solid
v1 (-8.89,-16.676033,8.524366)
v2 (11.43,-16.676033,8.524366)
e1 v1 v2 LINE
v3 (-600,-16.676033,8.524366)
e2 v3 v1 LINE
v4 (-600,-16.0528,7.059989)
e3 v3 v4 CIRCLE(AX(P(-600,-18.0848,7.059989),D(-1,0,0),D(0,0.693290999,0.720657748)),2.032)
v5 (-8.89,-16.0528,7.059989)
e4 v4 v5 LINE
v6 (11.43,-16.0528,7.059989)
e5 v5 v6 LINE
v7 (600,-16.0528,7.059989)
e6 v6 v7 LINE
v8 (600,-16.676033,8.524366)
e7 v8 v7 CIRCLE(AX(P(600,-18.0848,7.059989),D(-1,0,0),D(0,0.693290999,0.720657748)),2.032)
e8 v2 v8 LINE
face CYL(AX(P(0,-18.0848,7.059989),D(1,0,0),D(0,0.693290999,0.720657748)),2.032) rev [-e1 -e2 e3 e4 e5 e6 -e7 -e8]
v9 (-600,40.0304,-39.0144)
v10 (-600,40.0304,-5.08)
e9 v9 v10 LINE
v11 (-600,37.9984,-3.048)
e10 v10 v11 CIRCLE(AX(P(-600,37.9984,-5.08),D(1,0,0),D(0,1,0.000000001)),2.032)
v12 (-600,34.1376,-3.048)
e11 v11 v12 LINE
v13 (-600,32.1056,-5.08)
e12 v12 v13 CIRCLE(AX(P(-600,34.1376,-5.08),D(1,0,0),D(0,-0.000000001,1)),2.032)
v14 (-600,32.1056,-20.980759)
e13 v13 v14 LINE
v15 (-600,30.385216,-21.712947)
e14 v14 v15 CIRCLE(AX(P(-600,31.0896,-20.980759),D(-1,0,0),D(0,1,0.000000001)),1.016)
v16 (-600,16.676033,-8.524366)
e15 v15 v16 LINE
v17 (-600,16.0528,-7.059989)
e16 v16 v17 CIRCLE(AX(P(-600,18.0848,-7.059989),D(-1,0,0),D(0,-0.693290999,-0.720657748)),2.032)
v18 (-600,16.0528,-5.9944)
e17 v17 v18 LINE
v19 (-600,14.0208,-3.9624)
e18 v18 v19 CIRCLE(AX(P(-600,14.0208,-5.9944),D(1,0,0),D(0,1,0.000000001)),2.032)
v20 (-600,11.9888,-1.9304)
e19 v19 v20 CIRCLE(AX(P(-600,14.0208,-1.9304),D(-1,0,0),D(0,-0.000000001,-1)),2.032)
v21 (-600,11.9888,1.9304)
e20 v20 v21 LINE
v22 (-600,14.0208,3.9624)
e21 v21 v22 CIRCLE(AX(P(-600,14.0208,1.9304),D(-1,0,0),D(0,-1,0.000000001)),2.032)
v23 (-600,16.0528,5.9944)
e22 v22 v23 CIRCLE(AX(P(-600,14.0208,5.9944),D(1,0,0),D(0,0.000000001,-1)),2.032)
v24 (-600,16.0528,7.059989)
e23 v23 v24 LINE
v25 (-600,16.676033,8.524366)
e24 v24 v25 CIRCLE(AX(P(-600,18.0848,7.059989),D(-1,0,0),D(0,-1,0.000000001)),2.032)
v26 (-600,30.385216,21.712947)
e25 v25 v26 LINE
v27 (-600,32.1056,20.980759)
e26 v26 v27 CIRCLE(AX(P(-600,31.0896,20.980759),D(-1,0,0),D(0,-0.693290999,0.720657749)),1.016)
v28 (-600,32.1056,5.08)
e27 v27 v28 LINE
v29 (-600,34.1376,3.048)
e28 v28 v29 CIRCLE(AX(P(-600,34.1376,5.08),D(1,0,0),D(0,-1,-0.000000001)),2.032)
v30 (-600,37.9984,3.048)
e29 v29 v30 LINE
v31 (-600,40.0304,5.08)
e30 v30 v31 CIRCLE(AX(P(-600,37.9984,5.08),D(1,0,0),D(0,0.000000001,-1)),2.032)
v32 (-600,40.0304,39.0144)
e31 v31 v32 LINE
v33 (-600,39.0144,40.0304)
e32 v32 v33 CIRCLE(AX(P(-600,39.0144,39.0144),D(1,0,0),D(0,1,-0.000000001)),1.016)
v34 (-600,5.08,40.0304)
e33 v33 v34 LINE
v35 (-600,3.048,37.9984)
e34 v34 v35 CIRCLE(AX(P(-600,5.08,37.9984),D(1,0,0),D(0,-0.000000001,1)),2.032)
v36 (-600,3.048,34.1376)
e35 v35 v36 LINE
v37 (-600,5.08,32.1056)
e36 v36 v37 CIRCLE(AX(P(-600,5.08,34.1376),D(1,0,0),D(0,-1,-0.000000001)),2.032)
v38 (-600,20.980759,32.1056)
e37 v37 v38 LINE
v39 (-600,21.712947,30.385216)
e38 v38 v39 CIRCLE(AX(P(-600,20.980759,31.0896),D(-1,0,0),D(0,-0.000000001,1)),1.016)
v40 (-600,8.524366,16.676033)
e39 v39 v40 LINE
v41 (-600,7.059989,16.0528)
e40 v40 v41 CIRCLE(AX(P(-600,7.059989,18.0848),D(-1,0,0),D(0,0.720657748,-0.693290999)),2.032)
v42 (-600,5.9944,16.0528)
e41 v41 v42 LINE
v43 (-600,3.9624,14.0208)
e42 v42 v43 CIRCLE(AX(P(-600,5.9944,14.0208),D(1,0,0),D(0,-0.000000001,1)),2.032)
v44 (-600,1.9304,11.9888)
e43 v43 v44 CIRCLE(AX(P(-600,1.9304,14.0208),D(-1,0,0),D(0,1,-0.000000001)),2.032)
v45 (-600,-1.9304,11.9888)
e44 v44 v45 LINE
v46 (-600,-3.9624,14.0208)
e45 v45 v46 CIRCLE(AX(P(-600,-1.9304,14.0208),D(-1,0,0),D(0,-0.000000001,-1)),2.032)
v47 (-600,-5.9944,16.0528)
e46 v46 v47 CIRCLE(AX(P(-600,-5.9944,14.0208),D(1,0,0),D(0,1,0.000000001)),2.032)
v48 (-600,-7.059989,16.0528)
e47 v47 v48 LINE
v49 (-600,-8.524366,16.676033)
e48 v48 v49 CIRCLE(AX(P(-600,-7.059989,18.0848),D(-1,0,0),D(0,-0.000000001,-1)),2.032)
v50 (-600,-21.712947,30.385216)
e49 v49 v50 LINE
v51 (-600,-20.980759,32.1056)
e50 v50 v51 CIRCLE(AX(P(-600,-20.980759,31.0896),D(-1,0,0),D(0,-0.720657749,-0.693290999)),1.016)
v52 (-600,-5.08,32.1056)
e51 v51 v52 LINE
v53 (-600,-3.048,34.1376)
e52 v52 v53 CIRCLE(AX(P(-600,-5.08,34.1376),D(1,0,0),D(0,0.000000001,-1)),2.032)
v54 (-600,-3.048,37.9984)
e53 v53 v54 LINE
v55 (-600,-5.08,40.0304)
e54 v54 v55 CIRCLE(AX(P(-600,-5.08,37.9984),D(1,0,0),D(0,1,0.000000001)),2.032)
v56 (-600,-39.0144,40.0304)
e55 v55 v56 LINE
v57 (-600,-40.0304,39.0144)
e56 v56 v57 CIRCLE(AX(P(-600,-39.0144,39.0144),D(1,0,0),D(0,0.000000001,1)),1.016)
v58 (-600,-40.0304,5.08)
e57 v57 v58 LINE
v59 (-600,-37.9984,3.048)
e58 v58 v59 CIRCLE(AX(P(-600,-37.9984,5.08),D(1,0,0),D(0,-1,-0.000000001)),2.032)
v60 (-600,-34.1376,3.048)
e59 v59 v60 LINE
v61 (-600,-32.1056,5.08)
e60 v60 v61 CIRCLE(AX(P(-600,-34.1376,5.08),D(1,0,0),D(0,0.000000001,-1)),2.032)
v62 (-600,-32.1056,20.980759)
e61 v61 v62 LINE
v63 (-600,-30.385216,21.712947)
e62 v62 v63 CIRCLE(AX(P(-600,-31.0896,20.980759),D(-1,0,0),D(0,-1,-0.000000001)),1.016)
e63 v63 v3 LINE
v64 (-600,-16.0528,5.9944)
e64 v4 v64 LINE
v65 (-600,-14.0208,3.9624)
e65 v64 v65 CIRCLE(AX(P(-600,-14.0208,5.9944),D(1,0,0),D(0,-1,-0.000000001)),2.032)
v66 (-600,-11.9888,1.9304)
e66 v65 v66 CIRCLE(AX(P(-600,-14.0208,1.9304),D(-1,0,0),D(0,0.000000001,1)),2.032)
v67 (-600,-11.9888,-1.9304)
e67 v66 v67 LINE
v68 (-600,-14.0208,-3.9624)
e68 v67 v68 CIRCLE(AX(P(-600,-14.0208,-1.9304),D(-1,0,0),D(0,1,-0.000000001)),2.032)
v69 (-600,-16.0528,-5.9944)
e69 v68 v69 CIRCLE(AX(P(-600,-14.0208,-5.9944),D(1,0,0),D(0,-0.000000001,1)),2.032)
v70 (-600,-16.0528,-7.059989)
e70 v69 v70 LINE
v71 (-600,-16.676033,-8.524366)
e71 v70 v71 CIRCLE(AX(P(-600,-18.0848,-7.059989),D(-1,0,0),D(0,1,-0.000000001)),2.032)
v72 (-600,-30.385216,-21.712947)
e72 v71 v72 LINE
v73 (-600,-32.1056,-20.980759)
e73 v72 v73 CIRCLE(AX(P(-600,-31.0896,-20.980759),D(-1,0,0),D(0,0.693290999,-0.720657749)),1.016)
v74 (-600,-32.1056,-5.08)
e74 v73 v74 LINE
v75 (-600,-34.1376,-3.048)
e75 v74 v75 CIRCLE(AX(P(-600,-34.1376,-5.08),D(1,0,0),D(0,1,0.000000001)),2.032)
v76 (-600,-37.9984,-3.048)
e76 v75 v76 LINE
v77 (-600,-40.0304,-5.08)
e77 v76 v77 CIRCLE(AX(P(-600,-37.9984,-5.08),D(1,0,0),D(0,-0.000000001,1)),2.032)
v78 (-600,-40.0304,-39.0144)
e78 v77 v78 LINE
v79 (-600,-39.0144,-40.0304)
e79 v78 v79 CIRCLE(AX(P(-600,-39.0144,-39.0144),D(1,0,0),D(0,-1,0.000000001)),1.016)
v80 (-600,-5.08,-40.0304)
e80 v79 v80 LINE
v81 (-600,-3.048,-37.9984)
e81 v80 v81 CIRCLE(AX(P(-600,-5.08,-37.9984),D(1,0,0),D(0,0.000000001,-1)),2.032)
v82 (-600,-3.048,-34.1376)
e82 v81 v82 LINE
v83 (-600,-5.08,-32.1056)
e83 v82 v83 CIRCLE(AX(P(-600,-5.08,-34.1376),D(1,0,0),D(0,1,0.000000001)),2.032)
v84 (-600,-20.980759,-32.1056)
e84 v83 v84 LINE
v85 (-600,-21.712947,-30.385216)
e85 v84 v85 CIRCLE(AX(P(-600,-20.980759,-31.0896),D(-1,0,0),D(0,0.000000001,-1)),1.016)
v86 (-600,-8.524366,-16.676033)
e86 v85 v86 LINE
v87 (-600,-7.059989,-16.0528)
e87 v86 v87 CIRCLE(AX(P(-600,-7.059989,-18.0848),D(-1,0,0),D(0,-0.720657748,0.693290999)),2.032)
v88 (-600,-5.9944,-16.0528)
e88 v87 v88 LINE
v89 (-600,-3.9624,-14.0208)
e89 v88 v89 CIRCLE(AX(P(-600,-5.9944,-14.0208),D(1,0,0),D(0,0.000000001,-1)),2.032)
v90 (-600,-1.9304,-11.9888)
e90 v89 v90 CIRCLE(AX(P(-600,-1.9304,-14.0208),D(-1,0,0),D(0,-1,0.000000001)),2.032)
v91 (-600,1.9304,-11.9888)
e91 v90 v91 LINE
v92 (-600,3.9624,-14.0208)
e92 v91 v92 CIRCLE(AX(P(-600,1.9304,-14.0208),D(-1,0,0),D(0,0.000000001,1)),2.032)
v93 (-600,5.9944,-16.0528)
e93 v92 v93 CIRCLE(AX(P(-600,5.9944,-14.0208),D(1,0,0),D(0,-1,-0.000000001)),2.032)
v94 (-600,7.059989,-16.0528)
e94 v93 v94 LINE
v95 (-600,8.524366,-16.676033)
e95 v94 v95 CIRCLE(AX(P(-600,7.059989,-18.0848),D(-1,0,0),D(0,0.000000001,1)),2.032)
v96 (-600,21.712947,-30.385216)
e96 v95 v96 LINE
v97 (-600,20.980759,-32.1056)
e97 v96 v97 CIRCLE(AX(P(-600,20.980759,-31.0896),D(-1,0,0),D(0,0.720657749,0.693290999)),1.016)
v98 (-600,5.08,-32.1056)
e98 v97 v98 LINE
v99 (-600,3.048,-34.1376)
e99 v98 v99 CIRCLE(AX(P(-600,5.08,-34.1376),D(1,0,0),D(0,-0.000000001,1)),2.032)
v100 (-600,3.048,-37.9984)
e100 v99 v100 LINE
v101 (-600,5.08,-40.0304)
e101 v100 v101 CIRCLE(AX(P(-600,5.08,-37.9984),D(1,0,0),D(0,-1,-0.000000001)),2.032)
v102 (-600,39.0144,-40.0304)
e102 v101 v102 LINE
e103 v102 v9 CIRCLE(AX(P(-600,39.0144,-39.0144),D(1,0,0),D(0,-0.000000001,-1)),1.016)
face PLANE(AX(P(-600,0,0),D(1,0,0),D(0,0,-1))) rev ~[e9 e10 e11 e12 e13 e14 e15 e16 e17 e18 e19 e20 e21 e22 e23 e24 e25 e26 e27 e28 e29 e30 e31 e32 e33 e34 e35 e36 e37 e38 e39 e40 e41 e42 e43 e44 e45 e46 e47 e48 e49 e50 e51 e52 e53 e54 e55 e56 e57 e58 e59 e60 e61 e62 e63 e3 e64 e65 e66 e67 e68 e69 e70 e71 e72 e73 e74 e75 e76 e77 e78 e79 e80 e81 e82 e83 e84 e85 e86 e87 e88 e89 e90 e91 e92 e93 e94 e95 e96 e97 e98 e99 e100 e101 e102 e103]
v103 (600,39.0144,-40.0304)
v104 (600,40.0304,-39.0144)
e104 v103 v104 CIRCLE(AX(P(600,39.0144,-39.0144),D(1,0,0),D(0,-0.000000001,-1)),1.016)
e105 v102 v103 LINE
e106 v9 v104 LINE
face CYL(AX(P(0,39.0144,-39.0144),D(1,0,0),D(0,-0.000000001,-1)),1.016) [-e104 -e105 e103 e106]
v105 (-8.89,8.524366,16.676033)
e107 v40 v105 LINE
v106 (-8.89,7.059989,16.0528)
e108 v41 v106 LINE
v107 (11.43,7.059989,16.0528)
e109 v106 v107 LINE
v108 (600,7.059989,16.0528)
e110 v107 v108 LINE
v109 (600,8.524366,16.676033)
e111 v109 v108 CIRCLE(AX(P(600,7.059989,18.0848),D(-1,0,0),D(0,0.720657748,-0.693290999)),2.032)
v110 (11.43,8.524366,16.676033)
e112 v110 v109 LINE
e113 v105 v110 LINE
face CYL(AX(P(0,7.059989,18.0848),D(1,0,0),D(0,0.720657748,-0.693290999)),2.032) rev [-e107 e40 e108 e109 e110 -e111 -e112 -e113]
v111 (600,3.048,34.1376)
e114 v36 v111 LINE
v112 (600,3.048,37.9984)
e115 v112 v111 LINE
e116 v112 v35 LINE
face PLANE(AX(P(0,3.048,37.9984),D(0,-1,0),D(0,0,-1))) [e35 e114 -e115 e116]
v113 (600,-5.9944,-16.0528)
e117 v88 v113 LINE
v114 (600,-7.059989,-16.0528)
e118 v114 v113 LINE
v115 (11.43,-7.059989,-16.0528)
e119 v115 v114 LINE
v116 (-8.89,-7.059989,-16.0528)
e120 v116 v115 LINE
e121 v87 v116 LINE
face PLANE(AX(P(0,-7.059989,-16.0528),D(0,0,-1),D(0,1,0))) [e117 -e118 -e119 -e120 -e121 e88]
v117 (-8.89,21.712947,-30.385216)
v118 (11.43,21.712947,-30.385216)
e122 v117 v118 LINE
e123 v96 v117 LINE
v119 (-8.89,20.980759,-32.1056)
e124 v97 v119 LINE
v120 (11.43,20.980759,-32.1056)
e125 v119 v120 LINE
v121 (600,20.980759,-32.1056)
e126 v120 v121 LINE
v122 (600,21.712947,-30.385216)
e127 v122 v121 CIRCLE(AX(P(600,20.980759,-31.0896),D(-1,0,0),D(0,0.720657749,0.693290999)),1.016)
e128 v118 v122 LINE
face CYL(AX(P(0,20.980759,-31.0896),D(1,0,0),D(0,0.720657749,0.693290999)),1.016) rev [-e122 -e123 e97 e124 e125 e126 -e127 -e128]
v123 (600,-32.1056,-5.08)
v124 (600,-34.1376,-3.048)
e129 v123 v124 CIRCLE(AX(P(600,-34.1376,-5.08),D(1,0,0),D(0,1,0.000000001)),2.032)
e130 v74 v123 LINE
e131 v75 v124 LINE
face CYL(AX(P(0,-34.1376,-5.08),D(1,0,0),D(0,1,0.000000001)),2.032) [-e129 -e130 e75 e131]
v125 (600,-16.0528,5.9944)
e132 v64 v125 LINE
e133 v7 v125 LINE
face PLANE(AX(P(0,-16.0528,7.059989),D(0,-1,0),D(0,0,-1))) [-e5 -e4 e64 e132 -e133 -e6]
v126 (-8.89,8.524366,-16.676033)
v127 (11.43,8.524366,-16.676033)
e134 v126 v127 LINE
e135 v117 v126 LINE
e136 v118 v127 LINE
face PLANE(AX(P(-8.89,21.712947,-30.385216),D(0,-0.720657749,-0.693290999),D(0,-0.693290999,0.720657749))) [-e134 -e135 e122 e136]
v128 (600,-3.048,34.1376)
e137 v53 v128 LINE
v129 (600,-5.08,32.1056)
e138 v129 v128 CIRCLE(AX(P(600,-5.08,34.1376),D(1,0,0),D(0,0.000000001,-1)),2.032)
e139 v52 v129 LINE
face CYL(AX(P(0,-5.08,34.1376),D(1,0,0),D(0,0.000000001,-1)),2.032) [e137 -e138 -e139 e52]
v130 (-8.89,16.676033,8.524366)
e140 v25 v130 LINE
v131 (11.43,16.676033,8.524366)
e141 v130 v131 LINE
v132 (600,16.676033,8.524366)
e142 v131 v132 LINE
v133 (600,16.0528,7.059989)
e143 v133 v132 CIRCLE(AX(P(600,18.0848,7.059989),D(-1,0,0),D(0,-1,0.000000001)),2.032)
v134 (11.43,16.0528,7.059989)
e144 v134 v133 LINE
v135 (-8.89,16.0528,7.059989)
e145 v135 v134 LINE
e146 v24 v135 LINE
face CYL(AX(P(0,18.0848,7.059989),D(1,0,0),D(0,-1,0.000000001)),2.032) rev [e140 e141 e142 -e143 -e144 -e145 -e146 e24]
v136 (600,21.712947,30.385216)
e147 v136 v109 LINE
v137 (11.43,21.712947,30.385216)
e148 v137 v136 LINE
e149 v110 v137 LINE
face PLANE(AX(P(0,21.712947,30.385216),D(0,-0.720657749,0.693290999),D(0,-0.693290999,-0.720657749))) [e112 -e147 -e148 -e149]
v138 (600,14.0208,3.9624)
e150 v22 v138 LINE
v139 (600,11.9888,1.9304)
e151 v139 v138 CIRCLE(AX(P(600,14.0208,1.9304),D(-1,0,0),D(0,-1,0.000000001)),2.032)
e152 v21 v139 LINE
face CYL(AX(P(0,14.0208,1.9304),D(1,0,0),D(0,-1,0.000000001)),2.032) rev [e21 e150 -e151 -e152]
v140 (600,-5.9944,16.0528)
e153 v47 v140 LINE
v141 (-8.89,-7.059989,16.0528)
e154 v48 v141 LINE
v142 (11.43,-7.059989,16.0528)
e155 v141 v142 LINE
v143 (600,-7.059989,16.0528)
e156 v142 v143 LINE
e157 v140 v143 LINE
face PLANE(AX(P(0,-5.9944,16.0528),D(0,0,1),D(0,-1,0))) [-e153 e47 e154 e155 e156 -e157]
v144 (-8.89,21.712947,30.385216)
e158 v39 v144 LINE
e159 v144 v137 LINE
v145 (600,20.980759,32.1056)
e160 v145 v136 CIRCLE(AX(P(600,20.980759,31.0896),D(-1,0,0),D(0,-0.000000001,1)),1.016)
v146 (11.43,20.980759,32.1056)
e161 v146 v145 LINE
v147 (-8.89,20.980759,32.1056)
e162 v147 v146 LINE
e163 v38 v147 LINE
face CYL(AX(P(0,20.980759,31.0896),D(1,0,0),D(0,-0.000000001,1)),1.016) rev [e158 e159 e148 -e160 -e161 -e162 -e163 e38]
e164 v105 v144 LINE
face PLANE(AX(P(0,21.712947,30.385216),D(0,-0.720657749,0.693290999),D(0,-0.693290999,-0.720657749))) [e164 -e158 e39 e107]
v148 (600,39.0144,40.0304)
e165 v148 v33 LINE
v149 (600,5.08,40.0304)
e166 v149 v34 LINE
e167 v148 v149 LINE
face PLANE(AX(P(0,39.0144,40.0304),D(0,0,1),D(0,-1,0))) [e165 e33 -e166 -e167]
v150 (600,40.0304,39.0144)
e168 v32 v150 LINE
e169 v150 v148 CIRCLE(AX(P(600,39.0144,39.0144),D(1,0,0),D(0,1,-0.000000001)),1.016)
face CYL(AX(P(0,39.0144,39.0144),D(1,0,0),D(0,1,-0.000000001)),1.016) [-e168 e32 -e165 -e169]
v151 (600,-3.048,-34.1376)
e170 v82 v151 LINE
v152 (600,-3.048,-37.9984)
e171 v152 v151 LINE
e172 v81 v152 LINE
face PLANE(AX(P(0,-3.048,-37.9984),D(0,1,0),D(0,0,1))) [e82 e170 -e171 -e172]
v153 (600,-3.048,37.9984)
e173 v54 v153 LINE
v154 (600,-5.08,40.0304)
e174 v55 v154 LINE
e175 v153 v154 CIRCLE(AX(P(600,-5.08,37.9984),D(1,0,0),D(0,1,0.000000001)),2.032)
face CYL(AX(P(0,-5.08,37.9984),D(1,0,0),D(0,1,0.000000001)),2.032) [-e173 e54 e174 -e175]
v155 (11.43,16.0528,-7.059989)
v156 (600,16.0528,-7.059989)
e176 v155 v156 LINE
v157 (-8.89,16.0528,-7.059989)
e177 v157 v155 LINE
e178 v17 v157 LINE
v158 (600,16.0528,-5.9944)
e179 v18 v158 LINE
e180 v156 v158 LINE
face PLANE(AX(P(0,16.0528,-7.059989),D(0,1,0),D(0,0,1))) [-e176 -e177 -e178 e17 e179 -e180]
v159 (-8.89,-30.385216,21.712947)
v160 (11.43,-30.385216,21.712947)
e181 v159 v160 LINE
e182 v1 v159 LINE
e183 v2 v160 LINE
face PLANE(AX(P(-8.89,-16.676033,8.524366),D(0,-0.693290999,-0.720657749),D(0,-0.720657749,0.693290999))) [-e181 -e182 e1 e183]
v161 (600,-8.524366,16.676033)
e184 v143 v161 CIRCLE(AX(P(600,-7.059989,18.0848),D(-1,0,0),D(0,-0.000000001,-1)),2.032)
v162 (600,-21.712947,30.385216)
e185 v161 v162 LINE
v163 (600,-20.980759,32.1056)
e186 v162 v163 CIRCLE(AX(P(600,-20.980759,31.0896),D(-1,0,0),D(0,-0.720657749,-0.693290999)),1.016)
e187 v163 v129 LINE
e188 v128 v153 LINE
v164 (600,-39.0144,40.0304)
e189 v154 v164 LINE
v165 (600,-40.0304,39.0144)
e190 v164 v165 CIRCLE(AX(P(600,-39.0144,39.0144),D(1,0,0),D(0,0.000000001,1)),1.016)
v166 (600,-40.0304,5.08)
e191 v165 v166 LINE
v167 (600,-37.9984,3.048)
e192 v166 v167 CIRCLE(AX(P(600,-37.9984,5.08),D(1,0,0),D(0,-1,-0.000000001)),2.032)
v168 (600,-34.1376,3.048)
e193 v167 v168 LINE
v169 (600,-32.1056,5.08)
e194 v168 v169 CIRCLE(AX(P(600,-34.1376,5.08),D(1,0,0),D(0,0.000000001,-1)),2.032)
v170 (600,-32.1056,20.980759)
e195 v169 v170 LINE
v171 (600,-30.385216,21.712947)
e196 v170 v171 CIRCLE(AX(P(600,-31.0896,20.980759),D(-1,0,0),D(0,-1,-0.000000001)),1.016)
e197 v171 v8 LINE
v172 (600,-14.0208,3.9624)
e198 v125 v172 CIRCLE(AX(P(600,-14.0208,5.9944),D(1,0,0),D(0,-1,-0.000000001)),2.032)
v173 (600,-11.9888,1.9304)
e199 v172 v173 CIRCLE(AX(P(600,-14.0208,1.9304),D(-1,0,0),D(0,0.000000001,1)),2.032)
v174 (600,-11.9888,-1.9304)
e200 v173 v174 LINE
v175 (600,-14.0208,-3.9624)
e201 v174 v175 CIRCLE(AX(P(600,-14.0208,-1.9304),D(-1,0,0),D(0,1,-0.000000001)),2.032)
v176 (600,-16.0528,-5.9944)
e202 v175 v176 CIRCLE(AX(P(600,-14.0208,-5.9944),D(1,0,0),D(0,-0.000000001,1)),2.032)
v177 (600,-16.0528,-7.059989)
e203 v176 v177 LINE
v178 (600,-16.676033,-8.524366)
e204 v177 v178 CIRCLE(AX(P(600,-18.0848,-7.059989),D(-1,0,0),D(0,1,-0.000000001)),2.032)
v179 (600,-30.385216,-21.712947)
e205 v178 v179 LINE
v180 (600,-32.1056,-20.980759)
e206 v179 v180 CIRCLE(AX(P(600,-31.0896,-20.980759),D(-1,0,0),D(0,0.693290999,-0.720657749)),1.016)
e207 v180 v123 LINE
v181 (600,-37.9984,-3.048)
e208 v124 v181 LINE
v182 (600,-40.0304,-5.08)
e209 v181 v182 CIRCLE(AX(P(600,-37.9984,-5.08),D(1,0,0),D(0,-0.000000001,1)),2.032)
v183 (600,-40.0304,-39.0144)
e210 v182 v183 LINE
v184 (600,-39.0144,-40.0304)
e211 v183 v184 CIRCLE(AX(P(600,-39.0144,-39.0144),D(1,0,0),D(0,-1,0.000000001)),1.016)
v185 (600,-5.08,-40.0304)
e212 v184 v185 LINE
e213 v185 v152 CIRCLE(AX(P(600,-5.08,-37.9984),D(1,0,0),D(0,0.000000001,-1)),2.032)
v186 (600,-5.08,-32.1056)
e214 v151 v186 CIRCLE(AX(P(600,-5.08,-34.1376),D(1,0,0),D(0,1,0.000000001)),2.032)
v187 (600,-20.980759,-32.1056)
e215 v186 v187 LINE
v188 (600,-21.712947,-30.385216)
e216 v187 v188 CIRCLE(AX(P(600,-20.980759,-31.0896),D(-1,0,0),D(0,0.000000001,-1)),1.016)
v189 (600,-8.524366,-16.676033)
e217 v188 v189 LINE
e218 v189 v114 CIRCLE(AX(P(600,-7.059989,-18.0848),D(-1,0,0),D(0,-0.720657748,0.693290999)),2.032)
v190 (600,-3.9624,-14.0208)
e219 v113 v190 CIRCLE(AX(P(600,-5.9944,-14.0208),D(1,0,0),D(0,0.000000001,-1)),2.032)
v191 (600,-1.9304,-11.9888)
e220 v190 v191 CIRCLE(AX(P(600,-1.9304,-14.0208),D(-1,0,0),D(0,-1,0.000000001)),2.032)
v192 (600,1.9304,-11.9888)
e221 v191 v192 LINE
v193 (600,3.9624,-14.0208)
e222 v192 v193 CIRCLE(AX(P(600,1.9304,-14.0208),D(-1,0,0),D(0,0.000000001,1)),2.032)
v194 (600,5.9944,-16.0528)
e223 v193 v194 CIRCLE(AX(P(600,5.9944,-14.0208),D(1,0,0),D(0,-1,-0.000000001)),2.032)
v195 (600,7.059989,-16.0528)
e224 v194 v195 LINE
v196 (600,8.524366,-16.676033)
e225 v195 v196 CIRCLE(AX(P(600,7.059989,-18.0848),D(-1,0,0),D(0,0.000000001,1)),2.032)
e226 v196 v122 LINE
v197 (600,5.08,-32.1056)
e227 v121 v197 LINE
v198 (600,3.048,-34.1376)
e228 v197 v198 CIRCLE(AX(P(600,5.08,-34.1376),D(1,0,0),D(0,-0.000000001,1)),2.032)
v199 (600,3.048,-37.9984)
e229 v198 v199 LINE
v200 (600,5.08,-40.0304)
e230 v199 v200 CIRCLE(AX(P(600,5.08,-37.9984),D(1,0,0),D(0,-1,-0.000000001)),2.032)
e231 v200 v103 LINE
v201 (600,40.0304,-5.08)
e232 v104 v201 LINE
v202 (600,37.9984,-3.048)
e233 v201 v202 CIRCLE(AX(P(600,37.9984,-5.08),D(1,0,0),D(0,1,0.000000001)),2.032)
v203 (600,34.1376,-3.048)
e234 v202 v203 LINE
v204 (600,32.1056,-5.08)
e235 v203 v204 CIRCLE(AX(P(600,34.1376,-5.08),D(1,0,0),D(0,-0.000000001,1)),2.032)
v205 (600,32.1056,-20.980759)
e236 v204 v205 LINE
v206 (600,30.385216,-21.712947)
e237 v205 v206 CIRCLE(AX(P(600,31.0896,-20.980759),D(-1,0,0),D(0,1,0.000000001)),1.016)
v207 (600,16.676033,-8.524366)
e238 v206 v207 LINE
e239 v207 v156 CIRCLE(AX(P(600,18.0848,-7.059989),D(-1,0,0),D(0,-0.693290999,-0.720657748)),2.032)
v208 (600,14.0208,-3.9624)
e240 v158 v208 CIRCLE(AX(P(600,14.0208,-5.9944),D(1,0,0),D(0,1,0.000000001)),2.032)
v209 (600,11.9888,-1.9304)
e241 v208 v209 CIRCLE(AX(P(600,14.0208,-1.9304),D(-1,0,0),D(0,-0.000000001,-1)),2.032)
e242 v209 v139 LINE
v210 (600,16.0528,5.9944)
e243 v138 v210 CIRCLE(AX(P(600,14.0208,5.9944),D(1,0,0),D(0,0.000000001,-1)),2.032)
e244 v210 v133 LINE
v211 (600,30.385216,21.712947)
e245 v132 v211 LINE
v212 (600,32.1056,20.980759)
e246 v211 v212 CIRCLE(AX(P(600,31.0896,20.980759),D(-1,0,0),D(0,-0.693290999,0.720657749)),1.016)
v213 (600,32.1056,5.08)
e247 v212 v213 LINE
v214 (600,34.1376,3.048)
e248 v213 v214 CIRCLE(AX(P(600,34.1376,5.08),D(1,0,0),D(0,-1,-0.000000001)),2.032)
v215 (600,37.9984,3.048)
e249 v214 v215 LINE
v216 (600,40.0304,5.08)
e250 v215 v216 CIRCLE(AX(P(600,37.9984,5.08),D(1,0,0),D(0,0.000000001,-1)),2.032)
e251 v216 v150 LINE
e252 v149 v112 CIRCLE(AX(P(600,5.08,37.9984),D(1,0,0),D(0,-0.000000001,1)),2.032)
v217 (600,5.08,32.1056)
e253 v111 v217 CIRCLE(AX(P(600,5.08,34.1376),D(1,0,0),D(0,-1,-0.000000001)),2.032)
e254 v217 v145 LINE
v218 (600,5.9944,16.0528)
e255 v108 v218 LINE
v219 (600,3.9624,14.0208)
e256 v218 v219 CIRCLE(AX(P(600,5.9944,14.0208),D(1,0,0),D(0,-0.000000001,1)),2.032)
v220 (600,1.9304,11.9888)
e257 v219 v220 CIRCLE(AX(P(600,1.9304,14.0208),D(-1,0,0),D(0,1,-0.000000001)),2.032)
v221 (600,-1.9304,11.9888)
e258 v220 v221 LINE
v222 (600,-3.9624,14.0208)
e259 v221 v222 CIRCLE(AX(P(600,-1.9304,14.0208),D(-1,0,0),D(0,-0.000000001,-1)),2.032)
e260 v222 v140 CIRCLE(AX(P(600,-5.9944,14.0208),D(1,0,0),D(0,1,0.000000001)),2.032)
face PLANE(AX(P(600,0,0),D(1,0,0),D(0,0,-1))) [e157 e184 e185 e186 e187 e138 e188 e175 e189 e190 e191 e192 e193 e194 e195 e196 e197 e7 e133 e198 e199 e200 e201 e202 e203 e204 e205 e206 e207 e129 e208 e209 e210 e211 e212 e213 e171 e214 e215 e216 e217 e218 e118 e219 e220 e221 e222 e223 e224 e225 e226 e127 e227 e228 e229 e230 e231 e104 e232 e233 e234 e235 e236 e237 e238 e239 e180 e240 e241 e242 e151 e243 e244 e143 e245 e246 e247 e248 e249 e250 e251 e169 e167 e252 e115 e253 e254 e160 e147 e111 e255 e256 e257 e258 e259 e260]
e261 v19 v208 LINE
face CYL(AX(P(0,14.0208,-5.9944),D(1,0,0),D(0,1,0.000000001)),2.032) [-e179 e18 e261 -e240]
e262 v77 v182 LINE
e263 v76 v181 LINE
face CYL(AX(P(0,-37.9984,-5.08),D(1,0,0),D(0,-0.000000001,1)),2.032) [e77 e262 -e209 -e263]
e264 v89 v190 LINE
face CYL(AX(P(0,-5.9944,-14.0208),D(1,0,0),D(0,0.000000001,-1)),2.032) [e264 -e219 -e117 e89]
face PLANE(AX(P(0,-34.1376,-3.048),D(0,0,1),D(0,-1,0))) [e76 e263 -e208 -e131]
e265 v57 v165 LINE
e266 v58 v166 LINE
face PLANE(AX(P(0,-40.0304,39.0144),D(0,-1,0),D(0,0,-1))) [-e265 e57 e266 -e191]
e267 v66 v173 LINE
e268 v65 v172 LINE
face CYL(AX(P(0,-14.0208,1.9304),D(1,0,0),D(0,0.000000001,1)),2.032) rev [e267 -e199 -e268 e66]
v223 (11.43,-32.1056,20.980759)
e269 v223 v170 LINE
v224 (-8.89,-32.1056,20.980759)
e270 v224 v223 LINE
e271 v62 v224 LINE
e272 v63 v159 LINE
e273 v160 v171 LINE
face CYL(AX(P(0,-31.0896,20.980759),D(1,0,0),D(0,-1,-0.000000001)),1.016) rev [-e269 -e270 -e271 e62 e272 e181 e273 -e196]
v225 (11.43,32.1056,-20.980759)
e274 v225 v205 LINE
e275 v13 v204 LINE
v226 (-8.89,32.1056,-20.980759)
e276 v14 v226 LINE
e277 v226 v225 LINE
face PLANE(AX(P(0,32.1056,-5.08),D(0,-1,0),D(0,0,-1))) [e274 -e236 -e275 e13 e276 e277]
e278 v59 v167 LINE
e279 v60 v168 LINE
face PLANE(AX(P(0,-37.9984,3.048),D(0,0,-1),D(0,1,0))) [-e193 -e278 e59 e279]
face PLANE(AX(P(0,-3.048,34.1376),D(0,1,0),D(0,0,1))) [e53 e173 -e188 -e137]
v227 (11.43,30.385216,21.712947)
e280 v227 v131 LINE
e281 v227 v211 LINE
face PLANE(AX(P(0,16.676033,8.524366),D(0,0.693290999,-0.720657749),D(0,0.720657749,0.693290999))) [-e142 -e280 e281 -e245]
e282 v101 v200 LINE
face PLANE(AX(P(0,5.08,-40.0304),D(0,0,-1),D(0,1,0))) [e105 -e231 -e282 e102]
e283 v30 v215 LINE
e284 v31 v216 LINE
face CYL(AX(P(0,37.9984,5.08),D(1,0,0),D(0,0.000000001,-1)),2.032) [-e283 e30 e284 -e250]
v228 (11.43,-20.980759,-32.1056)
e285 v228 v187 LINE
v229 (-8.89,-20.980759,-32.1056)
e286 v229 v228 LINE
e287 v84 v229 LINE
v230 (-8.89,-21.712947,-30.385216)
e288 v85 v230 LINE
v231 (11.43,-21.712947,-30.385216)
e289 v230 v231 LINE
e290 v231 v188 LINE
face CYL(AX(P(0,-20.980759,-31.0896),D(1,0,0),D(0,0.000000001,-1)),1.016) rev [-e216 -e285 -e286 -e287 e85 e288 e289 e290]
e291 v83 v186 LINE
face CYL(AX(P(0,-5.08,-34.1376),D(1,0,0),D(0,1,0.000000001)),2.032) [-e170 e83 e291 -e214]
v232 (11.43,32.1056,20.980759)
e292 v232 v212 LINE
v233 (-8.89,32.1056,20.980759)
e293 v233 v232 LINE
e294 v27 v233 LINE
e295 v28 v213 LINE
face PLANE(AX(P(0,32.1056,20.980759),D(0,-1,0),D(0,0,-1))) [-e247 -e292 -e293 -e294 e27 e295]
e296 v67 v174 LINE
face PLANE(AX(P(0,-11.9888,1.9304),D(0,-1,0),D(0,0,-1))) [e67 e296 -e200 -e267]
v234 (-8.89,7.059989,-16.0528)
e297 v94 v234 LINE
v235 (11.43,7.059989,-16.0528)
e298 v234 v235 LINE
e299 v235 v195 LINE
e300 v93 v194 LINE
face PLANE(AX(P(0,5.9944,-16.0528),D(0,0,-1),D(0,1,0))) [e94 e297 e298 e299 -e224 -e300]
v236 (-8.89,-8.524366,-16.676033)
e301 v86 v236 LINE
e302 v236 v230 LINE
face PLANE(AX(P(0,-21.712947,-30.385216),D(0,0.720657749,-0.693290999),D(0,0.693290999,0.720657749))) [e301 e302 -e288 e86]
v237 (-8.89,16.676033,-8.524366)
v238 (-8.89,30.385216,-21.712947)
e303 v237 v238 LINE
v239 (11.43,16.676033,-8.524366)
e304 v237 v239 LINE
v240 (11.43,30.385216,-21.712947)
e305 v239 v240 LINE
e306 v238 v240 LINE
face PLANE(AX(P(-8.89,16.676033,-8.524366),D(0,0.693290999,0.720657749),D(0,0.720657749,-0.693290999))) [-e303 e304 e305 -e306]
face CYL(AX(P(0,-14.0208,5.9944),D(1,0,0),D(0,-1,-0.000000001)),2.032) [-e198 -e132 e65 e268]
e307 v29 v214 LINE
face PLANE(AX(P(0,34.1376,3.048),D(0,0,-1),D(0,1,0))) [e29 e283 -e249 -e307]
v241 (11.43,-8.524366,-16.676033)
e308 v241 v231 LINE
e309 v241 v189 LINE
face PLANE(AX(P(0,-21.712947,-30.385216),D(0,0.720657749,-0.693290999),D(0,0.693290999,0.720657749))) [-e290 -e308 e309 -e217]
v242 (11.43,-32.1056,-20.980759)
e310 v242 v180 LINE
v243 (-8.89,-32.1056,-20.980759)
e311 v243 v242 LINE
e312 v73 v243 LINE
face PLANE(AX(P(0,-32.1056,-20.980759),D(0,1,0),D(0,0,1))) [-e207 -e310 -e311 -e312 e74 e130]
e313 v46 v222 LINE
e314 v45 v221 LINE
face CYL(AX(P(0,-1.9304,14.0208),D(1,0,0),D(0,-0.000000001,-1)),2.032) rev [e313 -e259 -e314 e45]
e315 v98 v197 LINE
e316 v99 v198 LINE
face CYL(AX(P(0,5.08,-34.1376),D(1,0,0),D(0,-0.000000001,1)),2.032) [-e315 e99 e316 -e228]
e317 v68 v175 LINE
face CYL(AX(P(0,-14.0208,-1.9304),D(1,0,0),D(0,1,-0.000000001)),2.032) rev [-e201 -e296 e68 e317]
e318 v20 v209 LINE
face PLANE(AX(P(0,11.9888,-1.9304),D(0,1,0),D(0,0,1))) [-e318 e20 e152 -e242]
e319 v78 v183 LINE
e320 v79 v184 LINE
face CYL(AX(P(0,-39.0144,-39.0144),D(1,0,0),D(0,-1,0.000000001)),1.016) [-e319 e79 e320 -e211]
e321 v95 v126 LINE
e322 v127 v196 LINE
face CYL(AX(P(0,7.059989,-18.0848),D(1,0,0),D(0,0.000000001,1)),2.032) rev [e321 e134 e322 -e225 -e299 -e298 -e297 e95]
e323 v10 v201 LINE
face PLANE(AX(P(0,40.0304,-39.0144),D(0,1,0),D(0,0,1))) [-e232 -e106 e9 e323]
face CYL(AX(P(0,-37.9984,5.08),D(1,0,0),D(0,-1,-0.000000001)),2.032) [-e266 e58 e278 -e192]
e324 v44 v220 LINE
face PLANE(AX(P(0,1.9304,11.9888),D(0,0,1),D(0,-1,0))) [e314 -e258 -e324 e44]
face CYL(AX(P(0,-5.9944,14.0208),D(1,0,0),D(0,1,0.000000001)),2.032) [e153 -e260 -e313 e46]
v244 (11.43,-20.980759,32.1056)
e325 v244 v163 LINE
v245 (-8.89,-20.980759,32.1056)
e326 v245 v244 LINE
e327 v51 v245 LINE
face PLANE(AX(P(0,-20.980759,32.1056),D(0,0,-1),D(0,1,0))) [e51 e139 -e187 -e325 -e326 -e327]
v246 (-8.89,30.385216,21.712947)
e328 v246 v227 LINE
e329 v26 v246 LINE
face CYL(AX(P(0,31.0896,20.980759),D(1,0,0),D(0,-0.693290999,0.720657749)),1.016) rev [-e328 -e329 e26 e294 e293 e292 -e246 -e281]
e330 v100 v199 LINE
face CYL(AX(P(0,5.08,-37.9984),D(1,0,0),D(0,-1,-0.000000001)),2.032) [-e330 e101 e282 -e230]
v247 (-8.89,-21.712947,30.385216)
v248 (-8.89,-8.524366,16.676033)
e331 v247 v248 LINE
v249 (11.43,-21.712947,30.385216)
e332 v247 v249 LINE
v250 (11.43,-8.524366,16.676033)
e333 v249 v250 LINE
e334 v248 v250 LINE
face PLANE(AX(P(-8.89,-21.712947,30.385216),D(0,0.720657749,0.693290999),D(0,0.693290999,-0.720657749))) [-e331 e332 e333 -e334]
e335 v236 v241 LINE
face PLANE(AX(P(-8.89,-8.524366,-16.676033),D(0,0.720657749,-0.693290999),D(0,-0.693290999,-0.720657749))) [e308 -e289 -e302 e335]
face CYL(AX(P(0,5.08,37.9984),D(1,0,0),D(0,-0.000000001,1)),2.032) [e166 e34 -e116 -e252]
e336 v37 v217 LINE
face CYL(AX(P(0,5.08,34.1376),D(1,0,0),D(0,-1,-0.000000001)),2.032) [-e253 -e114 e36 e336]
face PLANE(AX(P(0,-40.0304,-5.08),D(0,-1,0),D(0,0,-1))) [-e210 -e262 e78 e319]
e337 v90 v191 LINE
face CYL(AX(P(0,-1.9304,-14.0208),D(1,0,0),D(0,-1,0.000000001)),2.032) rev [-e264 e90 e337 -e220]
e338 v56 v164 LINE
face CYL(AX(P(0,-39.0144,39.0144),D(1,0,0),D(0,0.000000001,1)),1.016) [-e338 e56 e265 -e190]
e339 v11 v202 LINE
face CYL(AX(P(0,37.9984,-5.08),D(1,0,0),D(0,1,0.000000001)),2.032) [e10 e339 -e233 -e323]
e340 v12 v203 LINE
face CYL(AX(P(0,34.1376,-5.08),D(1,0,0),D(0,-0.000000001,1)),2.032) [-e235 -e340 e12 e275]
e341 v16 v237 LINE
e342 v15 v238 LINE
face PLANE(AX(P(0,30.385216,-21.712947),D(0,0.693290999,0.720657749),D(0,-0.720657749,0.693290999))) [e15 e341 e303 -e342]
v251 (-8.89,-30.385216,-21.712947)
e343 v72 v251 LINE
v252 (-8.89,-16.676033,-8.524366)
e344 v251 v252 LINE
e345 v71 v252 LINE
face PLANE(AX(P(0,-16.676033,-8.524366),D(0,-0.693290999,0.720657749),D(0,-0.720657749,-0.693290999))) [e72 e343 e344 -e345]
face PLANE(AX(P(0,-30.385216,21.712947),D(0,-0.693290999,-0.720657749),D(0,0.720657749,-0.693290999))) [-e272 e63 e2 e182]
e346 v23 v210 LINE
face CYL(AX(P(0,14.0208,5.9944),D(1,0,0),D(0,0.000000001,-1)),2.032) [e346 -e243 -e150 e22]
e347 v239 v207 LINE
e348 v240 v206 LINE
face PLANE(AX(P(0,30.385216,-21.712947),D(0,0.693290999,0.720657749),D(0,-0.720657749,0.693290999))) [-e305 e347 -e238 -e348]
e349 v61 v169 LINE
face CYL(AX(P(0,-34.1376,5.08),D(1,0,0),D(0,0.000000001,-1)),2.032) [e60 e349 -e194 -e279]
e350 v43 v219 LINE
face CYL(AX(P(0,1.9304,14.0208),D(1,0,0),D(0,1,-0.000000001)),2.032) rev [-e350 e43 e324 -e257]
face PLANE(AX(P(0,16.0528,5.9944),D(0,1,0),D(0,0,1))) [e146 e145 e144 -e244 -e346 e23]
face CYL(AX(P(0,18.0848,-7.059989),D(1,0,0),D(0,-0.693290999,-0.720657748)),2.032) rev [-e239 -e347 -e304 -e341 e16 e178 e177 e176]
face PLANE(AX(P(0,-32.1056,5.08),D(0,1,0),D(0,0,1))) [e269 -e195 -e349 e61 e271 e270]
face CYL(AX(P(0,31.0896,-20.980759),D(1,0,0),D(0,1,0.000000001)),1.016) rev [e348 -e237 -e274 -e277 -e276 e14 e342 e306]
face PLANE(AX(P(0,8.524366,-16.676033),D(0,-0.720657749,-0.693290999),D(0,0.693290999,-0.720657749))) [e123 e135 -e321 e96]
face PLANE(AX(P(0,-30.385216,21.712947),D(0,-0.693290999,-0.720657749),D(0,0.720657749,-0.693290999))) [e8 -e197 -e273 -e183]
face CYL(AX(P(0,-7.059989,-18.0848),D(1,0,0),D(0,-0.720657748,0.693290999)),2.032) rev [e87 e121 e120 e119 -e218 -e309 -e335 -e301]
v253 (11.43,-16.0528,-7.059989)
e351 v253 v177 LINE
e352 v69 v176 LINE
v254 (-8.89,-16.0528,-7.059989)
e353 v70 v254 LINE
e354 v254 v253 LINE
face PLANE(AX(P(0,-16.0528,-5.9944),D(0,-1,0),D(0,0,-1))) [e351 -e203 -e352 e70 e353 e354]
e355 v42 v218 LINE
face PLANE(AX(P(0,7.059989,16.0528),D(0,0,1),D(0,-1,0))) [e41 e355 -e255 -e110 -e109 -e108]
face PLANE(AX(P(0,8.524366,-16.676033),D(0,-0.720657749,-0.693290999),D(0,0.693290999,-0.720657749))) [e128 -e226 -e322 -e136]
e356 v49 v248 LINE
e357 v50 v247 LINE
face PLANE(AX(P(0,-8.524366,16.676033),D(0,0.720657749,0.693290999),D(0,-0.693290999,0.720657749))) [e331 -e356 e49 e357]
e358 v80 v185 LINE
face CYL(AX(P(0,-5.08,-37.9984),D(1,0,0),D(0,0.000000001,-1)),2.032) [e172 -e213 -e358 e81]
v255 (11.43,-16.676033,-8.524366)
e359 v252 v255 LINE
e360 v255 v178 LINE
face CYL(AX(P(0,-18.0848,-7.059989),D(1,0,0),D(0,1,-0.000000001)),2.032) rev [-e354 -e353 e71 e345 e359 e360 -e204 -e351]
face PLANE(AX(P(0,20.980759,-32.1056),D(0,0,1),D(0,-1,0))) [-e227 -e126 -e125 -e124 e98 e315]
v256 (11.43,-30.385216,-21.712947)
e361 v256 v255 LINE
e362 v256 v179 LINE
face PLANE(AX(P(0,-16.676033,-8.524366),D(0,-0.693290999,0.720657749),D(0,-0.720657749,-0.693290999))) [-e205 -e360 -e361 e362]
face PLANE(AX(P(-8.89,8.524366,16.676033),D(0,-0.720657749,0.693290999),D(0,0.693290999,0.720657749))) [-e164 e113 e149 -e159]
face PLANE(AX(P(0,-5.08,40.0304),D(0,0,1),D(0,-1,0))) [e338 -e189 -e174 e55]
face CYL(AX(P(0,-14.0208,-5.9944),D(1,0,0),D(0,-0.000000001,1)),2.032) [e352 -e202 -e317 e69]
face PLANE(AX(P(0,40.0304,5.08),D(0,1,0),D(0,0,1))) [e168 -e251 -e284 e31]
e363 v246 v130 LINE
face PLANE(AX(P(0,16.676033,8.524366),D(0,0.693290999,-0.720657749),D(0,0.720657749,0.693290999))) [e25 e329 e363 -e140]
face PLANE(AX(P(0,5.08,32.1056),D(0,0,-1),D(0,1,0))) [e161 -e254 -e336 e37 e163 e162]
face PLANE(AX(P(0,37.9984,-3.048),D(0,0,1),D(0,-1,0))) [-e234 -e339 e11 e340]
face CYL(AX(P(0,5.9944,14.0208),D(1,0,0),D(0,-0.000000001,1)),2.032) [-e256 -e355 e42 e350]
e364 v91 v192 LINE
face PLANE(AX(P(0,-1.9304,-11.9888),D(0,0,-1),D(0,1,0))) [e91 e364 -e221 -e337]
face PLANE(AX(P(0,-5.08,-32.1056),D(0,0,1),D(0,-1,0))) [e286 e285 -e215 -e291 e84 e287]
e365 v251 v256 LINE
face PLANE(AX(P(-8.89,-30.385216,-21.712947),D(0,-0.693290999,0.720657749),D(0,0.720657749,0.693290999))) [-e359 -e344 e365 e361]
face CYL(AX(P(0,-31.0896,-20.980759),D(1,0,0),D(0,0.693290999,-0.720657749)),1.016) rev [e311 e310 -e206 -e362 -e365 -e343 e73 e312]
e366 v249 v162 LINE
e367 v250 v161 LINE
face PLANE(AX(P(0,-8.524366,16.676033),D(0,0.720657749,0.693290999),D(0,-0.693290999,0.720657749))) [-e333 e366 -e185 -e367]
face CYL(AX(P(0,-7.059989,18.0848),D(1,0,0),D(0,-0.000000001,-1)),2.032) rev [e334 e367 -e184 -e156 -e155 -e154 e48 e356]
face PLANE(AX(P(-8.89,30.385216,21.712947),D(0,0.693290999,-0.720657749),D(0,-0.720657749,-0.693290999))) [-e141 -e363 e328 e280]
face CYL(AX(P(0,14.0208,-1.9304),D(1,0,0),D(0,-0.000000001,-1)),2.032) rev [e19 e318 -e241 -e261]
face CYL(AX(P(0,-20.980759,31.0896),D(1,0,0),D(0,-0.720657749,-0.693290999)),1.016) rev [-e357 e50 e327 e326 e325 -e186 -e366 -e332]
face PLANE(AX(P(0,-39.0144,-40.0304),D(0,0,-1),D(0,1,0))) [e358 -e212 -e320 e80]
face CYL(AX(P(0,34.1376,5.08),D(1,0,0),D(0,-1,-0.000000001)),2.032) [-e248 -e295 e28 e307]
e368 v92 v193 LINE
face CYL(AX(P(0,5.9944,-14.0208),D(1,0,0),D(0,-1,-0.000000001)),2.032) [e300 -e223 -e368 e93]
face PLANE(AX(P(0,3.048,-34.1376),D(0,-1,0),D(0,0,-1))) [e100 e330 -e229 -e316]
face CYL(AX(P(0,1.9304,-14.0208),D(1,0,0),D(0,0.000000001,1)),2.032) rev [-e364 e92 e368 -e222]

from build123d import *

# Parameters (mm, degrees)
BOSS_EXTRUDE1_DEPTH = 2.54
SCALE1_SCALE        = 8
BOSS_EXTRUDE2_DEPTH = 600


with BuildPart() as part:
    # Sketch1 → Boss-Extrude1 (new body)
    with BuildSketch(Plane(origin=(0, 0, 0), x_dir=(0, 0, -1), z_dir=(1, 0, 0))):
        with BuildLine():
            Line((-0.2413, 1.4986), (0.2413, 1.4986))
            ThreePointArc((0.2413, 1.4986), (0.420905122, 1.572994878), (0.4953, 1.7526))
            ThreePointArc((0.4953, 1.7526), (0.569694878, 1.932205122), (0.7493, 2.0066))
            Line((0.7493, 2.0066), (0.882498635, 2.0066))
            ThreePointArc((0.882498635, 2.0066), (0.981966313, 2.026886113), (1.065545703, 2.084504086))
            Line((1.065545703, 2.084504086), (2.714118421, 3.798152043))
            ThreePointArc((2.714118421, 3.798152043), (2.739451831, 3.935933839), (2.622594887, 4.0132))
            Line((2.622594887, 4.0132), (0.635, 4.0132))
            ThreePointArc((0.635, 4.0132), (0.455394878, 4.087594878), (0.381, 4.2672))
            Line((0.381, 4.2672), (0.381, 4.7498))
            ThreePointArc((0.381, 4.7498), (0.455394878, 4.929405122), (0.635, 5.0038))
            Line((0.635, 5.0038), (4.8768, 5.0038))
            ThreePointArc((4.8768, 5.0038), (4.966602561, 4.966602561), (5.0038, 4.8768))
            Line((5.0038, 4.8768), (5.0038, 0.635))
            ThreePointArc((5.0038, 0.635), (4.929405122, 0.455394878), (4.7498, 0.381))
            Line((4.7498, 0.381), (4.2672, 0.381))
            ThreePointArc((4.2672, 0.381), (4.087594878, 0.455394878), (4.0132, 0.635))
            Line((4.0132, 0.635), (4.0132, 2.622594887))
            ThreePointArc((4.0132, 2.622594887), (3.935933839, 2.739451831), (3.798152043, 2.714118421))
            Line((3.798152043, 2.714118421), (2.084504086, 1.065545703))
            ThreePointArc((2.084504086, 1.065545703), (2.026886113, 0.981966313), (2.0066, 0.882498635))
            Line((2.0066, 0.882498635), (2.0066, 0.7493))
            ThreePointArc((2.0066, 0.7493), (1.932205122, 0.569694878), (1.7526, 0.4953))
            ThreePointArc((1.7526, 0.4953), (1.572994878, 0.420905122), (1.4986, 0.2413))
            Line((1.4986, 0.2413), (1.4986, -0.2413))
            ThreePointArc((1.4986, -0.2413), (1.572994878, -0.420905122), (1.7526, -0.4953))
            ThreePointArc((1.7526, -0.4953), (1.932205122, -0.569694878), (2.0066, -0.7493))
            Line((2.0066, -0.7493), (2.0066, -0.882498635))
            ThreePointArc((2.0066, -0.882498635), (2.026886113, -0.981966313), (2.084504086, -1.065545703))
            Line((2.084504086, -1.065545703), (3.798152043, -2.714118421))
            ThreePointArc((3.798152043, -2.714118421), (3.935933839, -2.739451831), (4.0132, -2.622594887))
            Line((4.0132, -2.622594887), (4.0132, -0.635))
            ThreePointArc((4.0132, -0.635), (4.087594878, -0.455394878), (4.2672, -0.381))
            Line((4.2672, -0.381), (4.7498, -0.381))
            ThreePointArc((4.7498, -0.381), (4.929405122, -0.455394878), (5.0038, -0.635))
            Line((5.0038, -0.635), (5.0038, -4.8768))
            ThreePointArc((5.0038, -4.8768), (4.966602561, -4.966602561), (4.8768, -5.0038))
            Line((4.8768, -5.0038), (0.635, -5.0038))
            ThreePointArc((0.635, -5.0038), (0.455394878, -4.929405122), (0.381, -4.7498))
            Line((0.381, -4.7498), (0.381, -4.2672))
            ThreePointArc((0.381, -4.2672), (0.455394878, -4.087594878), (0.635, -4.0132))
            Line((0.635, -4.0132), (2.622594887, -4.0132))
            ThreePointArc((2.622594887, -4.0132), (2.739451831, -3.935933839), (2.714118421, -3.798152043))
            Line((2.714118421, -3.798152043), (1.065545703, -2.084504086))
            ThreePointArc((1.065545703, -2.084504086), (0.981966313, -2.026886113), (0.882498635, -2.0066))
            Line((0.882498635, -2.0066), (0.7493, -2.0066))
            ThreePointArc((0.7493, -2.0066), (0.569694878, -1.932205122), (0.4953, -1.7526))
            ThreePointArc((0.4953, -1.7526), (0.420905122, -1.572994878), (0.2413, -1.4986))
            Line((0.2413, -1.4986), (-0.2413, -1.4986))
            ThreePointArc((-0.2413, -1.4986), (-0.420905122, -1.572994878), (-0.4953, -1.7526))
            ThreePointArc((-0.4953, -1.7526), (-0.569694878, -1.932205122), (-0.7493, -2.0066))
            Line((-0.7493, -2.0066), (-0.882498635, -2.0066))
            ThreePointArc((-0.882498635, -2.0066), (-0.981966313, -2.026886113), (-1.065545703, -2.084504086))
            Line((-1.065545703, -2.084504086), (-2.714118421, -3.798152043))
            ThreePointArc((-2.714118421, -3.798152043), (-2.739451831, -3.935933839), (-2.622594887, -4.0132))
            Line((-2.622594887, -4.0132), (-0.635, -4.0132))
            ThreePointArc((-0.635, -4.0132), (-0.455394878, -4.087594878), (-0.381, -4.2672))
            Line((-0.381, -4.2672), (-0.381, -4.7498))
            ThreePointArc((-0.381, -4.7498), (-0.455394878, -4.929405122), (-0.635, -5.0038))
            Line((-0.635, -5.0038), (-4.8768, -5.0038))
            ThreePointArc((-4.8768, -5.0038), (-4.966602561, -4.966602561), (-5.0038, -4.8768))
            Line((-5.0038, -4.8768), (-5.0038, -0.635))
            ThreePointArc((-5.0038, -0.635), (-4.929405122, -0.455394878), (-4.7498, -0.381))
            Line((-4.7498, -0.381), (-4.2672, -0.381))
            ThreePointArc((-4.2672, -0.381), (-4.087594878, -0.455394878), (-4.0132, -0.635))
            Line((-4.0132, -0.635), (-4.0132, -2.622594887))
            ThreePointArc((-4.0132, -2.622594887), (-3.935933839, -2.739451831), (-3.798152043, -2.714118421))
            Line((-3.798152043, -2.714118421), (-2.084504086, -1.065545703))
            ThreePointArc((-2.084504086, -1.065545703), (-2.026886113, -0.981966313), (-2.0066, -0.882498635))
            Line((-2.0066, -0.882498635), (-2.0066, -0.7493))
            ThreePointArc((-2.0066, -0.7493), (-1.932205122, -0.569694878), (-1.7526, -0.4953))
            ThreePointArc((-1.7526, -0.4953), (-1.572994878, -0.420905122), (-1.4986, -0.2413))
            Line((-1.4986, -0.2413), (-1.4986, 0.2413))
            ThreePointArc((-1.4986, 0.2413), (-1.572994878, 0.420905122), (-1.7526, 0.4953))
            ThreePointArc((-1.7526, 0.4953), (-1.932205122, 0.569694878), (-2.0066, 0.7493))
            Line((-2.0066, 0.7493), (-2.0066, 0.882498635))
            ThreePointArc((-2.0066, 0.882498635), (-2.026886113, 0.981966313), (-2.084504086, 1.065545703))
            Line((-2.084504086, 1.065545703), (-3.798152043, 2.714118421))
            ThreePointArc((-3.798152043, 2.714118421), (-3.935933839, 2.739451831), (-4.0132, 2.622594887))
            Line((-4.0132, 2.622594887), (-4.0132, 0.635))
            ThreePointArc((-4.0132, 0.635), (-4.087594878, 0.455394878), (-4.2672, 0.381))
            Line((-4.2672, 0.381), (-4.7498, 0.381))
            ThreePointArc((-4.7498, 0.381), (-4.929405122, 0.455394878), (-5.0038, 0.635))
            Line((-5.0038, 0.635), (-5.0038, 4.8768))
            ThreePointArc((-5.0038, 4.8768), (-4.966602561, 4.966602561), (-4.8768, 5.0038))
            Line((-4.8768, 5.0038), (-0.635, 5.0038))
            ThreePointArc((-0.635, 5.0038), (-0.455394878, 4.929405122), (-0.381, 4.7498))
            Line((-0.381, 4.7498), (-0.381, 4.2672))
            ThreePointArc((-0.381, 4.2672), (-0.455394878, 4.087594878), (-0.635, 4.0132))
            Line((-0.635, 4.0132), (-2.622594887, 4.0132))
            ThreePointArc((-2.622594887, 4.0132), (-2.739451831, 3.935933839), (-2.714118421, 3.798152043))
            Line((-2.714118421, 3.798152043), (-1.065545703, 2.084504086))
            ThreePointArc((-1.065545703, 2.084504086), (-0.981966313, 2.026886113), (-0.882498635, 2.0066))
            Line((-0.882498635, 2.0066), (-0.7493, 2.0066))
            ThreePointArc((-0.7493, 2.0066), (-0.569694878, 1.932205122), (-0.4953, 1.7526))
            ThreePointArc((-0.4953, 1.7526), (-0.420905122, 1.572994878), (-0.2413, 1.4986))
        make_face()
    extrude(amount=BOSS_EXTRUDE1_DEPTH)


with BuildPart() as part_1:
    # Scale1: scaled about (1.27, 0, 0)
    add(part.part.scale(SCALE1_SCALE).moved(Location((-8.89, 0, 0))))

    # Sketch2 → Boss-Extrude2 (add, symmetric)
    with BuildSketch(Plane(origin=(0, 0, 0), x_dir=(0, 0, -1), z_dir=(1, 0, 0))):
        with BuildLine():
            Line((-37.9984, 3.048), (-34.1376, 3.048))
            ThreePointArc((-34.1376, 3.048), (-32.700759021, 3.643159021), (-32.1056, 5.08))
            Line((-32.1056, 5.08), (-32.1056, 20.980759097))
            ThreePointArc((-32.1056, 20.980759097), (-31.487470712, 21.915614646), (-30.385216345, 21.71294737))
            Line((-30.385216345, 21.71294737), (-16.67603269, 8.524365626))
            ThreePointArc((-16.67603269, 8.524365626), (-16.215088903, 7.855730504), (-16.0528, 7.059989081))
            Line((-16.0528, 7.059989081), (-16.0528, 5.9944))
            ThreePointArc((-16.0528, 5.9944), (-15.457640979, 4.557559021), (-14.0208, 3.9624))
            ThreePointArc((-14.0208, 3.9624), (-12.583959021, 3.367240979), (-11.9888, 1.9304))
            Line((-11.9888, 1.9304), (-11.9888, -1.9304))
            ThreePointArc((-11.9888, -1.9304), (-12.583959021, -3.367240979), (-14.0208, -3.9624))
            ThreePointArc((-14.0208, -3.9624), (-15.457640979, -4.557559021), (-16.0528, -5.9944))
            Line((-16.0528, -5.9944), (-16.0528, -7.059989081))
            ThreePointArc((-16.0528, -7.059989081), (-16.215088903, -7.855730504), (-16.67603269, -8.524365626))
            Line((-16.67603269, -8.524365626), (-30.385216345, -21.71294737))
            ThreePointArc((-30.385216345, -21.71294737), (-31.487470712, -21.915614646), (-32.1056, -20.980759097))
            Line((-32.1056, -20.980759097), (-32.1056, -5.08))
            ThreePointArc((-32.1056, -5.08), (-32.700759021, -3.643159021), (-34.1376, -3.048))
            Line((-34.1376, -3.048), (-37.9984, -3.048))
            ThreePointArc((-37.9984, -3.048), (-39.435240979, -3.643159021), (-40.0304, -5.08))
            Line((-40.0304, -5.08), (-40.0304, -39.0144))
            ThreePointArc((-40.0304, -39.0144), (-39.73282049, -39.73282049), (-39.0144, -40.0304))
            Line((-39.0144, -40.0304), (-5.08, -40.0304))
            ThreePointArc((-5.08, -40.0304), (-3.643159021, -39.435240979), (-3.048, -37.9984))
            Line((-3.048, -37.9984), (-3.048, -34.1376))
            ThreePointArc((-3.048, -34.1376), (-3.643159021, -32.700759021), (-5.08, -32.1056))
            Line((-5.08, -32.1056), (-20.980759097, -32.1056))
            ThreePointArc((-20.980759097, -32.1056), (-21.915614646, -31.487470712), (-21.71294737, -30.385216345))
            Line((-21.71294737, -30.385216345), (-8.524365626, -16.67603269))
            ThreePointArc((-8.524365626, -16.67603269), (-7.855730504, -16.215088903), (-7.059989081, -16.0528))
            Line((-7.059989081, -16.0528), (-5.9944, -16.0528))
            ThreePointArc((-5.9944, -16.0528), (-4.557559021, -15.457640979), (-3.9624, -14.0208))
            ThreePointArc((-3.9624, -14.0208), (-3.367240979, -12.583959021), (-1.9304, -11.9888))
            Line((-1.9304, -11.9888), (1.9304, -11.9888))
            ThreePointArc((1.9304, -11.9888), (3.367240979, -12.583959021), (3.9624, -14.0208))
            ThreePointArc((3.9624, -14.0208), (4.557559021, -15.457640979), (5.9944, -16.0528))
            Line((5.9944, -16.0528), (7.059989081, -16.0528))
            ThreePointArc((7.059989081, -16.0528), (7.855730504, -16.215088903), (8.524365626, -16.67603269))
            Line((8.524365626, -16.67603269), (21.71294737, -30.385216345))
            ThreePointArc((21.71294737, -30.385216345), (21.915614646, -31.487470712), (20.980759097, -32.1056))
            Line((20.980759097, -32.1056), (5.08, -32.1056))
            ThreePointArc((5.08, -32.1056), (3.643159021, -32.700759021), (3.048, -34.1376))
            Line((3.048, -34.1376), (3.048, -37.9984))
            ThreePointArc((3.048, -37.9984), (3.643159021, -39.435240979), (5.08, -40.0304))
            Line((5.08, -40.0304), (39.0144, -40.0304))
            ThreePointArc((39.0144, -40.0304), (39.73282049, -39.73282049), (40.0304, -39.0144))
            Line((40.0304, -39.0144), (40.0304, -5.08))
            ThreePointArc((40.0304, -5.08), (39.435240979, -3.643159021), (37.9984, -3.048))
            Line((37.9984, -3.048), (34.1376, -3.048))
            ThreePointArc((34.1376, -3.048), (32.700759021, -3.643159021), (32.1056, -5.08))
            Line((32.1056, -5.08), (32.1056, -20.980759097))
            ThreePointArc((32.1056, -20.980759097), (31.487470712, -21.915614646), (30.385216345, -21.71294737))
            Line((30.385216345, -21.71294737), (16.67603269, -8.524365626))
            ThreePointArc((16.67603269, -8.524365626), (16.215088903, -7.855730504), (16.0528, -7.059989081))
            Line((16.0528, -7.059989081), (16.0528, -5.9944))
            ThreePointArc((16.0528, -5.9944), (15.457640979, -4.557559021), (14.0208, -3.9624))
            ThreePointArc((14.0208, -3.9624), (12.583959021, -3.367240979), (11.9888, -1.9304))
            Line((11.9888, -1.9304), (11.9888, 1.9304))
            ThreePointArc((11.9888, 1.9304), (12.583959021, 3.367240979), (14.0208, 3.9624))
            ThreePointArc((14.0208, 3.9624), (15.457640979, 4.557559021), (16.0528, 5.9944))
            Line((16.0528, 5.9944), (16.0528, 7.059989081))
            ThreePointArc((16.0528, 7.059989081), (16.215088903, 7.855730504), (16.67603269, 8.524365626))
            Line((16.67603269, 8.524365626), (30.385216345, 21.71294737))
            ThreePointArc((30.385216345, 21.71294737), (31.487470712, 21.915614646), (32.1056, 20.980759097))
            Line((32.1056, 20.980759097), (32.1056, 5.08))
            ThreePointArc((32.1056, 5.08), (32.700759021, 3.643159021), (34.1376, 3.048))
            Line((34.1376, 3.048), (37.9984, 3.048))
            ThreePointArc((37.9984, 3.048), (39.435240979, 3.643159021), (40.0304, 5.08))
            Line((40.0304, 5.08), (40.0304, 39.0144))
            ThreePointArc((40.0304, 39.0144), (39.73282049, 39.73282049), (39.0144, 40.0304))
            Line((39.0144, 40.0304), (5.08, 40.0304))
            ThreePointArc((5.08, 40.0304), (3.643159021, 39.435240979), (3.048, 37.9984))
            Line((3.048, 37.9984), (3.048, 34.1376))
            ThreePointArc((3.048, 34.1376), (3.643159021, 32.700759021), (5.08, 32.1056))
            Line((5.08, 32.1056), (20.980759097, 32.1056))
            ThreePointArc((20.980759097, 32.1056), (21.915614646, 31.487470712), (21.71294737, 30.385216345))
            Line((21.71294737, 30.385216345), (8.524365626, 16.67603269))
            ThreePointArc((8.524365626, 16.67603269), (7.855730504, 16.215088903), (7.059989081, 16.0528))
            Line((7.059989081, 16.0528), (5.9944, 16.0528))
            ThreePointArc((5.9944, 16.0528), (4.557559021, 15.457640979), (3.9624, 14.0208))
            ThreePointArc((3.9624, 14.0208), (3.367240979, 12.583959021), (1.9304, 11.9888))
            Line((1.9304, 11.9888), (-1.9304, 11.9888))
            ThreePointArc((-1.9304, 11.9888), (-3.367240979, 12.583959021), (-3.9624, 14.0208))
            ThreePointArc((-3.9624, 14.0208), (-4.557559021, 15.457640979), (-5.9944, 16.0528))
            Line((-5.9944, 16.0528), (-7.059989081, 16.0528))
            ThreePointArc((-7.059989081, 16.0528), (-7.855730504, 16.215088903), (-8.524365626, 16.67603269))
            Line((-8.524365626, 16.67603269), (-21.71294737, 30.385216345))
            ThreePointArc((-21.71294737, 30.385216345), (-21.915614646, 31.487470712), (-20.980759097, 32.1056))
            Line((-20.980759097, 32.1056), (-5.08, 32.1056))
            ThreePointArc((-5.08, 32.1056), (-3.643159021, 32.700759021), (-3.048, 34.1376))
            Line((-3.048, 34.1376), (-3.048, 37.9984))
            ThreePointArc((-3.048, 37.9984), (-3.643159021, 39.435240979), (-5.08, 40.0304))
            Line((-5.08, 40.0304), (-39.0144, 40.0304))
            ThreePointArc((-39.0144, 40.0304), (-39.73282049, 39.73282049), (-40.0304, 39.0144))
            Line((-40.0304, 39.0144), (-40.0304, 5.08))
            ThreePointArc((-40.0304, 5.08), (-39.435240979, 3.643159021), (-37.9984, 3.048))
        make_face()
    extrude(amount=BOSS_EXTRUDE2_DEPTH, both=True)


solid = part_1.part
